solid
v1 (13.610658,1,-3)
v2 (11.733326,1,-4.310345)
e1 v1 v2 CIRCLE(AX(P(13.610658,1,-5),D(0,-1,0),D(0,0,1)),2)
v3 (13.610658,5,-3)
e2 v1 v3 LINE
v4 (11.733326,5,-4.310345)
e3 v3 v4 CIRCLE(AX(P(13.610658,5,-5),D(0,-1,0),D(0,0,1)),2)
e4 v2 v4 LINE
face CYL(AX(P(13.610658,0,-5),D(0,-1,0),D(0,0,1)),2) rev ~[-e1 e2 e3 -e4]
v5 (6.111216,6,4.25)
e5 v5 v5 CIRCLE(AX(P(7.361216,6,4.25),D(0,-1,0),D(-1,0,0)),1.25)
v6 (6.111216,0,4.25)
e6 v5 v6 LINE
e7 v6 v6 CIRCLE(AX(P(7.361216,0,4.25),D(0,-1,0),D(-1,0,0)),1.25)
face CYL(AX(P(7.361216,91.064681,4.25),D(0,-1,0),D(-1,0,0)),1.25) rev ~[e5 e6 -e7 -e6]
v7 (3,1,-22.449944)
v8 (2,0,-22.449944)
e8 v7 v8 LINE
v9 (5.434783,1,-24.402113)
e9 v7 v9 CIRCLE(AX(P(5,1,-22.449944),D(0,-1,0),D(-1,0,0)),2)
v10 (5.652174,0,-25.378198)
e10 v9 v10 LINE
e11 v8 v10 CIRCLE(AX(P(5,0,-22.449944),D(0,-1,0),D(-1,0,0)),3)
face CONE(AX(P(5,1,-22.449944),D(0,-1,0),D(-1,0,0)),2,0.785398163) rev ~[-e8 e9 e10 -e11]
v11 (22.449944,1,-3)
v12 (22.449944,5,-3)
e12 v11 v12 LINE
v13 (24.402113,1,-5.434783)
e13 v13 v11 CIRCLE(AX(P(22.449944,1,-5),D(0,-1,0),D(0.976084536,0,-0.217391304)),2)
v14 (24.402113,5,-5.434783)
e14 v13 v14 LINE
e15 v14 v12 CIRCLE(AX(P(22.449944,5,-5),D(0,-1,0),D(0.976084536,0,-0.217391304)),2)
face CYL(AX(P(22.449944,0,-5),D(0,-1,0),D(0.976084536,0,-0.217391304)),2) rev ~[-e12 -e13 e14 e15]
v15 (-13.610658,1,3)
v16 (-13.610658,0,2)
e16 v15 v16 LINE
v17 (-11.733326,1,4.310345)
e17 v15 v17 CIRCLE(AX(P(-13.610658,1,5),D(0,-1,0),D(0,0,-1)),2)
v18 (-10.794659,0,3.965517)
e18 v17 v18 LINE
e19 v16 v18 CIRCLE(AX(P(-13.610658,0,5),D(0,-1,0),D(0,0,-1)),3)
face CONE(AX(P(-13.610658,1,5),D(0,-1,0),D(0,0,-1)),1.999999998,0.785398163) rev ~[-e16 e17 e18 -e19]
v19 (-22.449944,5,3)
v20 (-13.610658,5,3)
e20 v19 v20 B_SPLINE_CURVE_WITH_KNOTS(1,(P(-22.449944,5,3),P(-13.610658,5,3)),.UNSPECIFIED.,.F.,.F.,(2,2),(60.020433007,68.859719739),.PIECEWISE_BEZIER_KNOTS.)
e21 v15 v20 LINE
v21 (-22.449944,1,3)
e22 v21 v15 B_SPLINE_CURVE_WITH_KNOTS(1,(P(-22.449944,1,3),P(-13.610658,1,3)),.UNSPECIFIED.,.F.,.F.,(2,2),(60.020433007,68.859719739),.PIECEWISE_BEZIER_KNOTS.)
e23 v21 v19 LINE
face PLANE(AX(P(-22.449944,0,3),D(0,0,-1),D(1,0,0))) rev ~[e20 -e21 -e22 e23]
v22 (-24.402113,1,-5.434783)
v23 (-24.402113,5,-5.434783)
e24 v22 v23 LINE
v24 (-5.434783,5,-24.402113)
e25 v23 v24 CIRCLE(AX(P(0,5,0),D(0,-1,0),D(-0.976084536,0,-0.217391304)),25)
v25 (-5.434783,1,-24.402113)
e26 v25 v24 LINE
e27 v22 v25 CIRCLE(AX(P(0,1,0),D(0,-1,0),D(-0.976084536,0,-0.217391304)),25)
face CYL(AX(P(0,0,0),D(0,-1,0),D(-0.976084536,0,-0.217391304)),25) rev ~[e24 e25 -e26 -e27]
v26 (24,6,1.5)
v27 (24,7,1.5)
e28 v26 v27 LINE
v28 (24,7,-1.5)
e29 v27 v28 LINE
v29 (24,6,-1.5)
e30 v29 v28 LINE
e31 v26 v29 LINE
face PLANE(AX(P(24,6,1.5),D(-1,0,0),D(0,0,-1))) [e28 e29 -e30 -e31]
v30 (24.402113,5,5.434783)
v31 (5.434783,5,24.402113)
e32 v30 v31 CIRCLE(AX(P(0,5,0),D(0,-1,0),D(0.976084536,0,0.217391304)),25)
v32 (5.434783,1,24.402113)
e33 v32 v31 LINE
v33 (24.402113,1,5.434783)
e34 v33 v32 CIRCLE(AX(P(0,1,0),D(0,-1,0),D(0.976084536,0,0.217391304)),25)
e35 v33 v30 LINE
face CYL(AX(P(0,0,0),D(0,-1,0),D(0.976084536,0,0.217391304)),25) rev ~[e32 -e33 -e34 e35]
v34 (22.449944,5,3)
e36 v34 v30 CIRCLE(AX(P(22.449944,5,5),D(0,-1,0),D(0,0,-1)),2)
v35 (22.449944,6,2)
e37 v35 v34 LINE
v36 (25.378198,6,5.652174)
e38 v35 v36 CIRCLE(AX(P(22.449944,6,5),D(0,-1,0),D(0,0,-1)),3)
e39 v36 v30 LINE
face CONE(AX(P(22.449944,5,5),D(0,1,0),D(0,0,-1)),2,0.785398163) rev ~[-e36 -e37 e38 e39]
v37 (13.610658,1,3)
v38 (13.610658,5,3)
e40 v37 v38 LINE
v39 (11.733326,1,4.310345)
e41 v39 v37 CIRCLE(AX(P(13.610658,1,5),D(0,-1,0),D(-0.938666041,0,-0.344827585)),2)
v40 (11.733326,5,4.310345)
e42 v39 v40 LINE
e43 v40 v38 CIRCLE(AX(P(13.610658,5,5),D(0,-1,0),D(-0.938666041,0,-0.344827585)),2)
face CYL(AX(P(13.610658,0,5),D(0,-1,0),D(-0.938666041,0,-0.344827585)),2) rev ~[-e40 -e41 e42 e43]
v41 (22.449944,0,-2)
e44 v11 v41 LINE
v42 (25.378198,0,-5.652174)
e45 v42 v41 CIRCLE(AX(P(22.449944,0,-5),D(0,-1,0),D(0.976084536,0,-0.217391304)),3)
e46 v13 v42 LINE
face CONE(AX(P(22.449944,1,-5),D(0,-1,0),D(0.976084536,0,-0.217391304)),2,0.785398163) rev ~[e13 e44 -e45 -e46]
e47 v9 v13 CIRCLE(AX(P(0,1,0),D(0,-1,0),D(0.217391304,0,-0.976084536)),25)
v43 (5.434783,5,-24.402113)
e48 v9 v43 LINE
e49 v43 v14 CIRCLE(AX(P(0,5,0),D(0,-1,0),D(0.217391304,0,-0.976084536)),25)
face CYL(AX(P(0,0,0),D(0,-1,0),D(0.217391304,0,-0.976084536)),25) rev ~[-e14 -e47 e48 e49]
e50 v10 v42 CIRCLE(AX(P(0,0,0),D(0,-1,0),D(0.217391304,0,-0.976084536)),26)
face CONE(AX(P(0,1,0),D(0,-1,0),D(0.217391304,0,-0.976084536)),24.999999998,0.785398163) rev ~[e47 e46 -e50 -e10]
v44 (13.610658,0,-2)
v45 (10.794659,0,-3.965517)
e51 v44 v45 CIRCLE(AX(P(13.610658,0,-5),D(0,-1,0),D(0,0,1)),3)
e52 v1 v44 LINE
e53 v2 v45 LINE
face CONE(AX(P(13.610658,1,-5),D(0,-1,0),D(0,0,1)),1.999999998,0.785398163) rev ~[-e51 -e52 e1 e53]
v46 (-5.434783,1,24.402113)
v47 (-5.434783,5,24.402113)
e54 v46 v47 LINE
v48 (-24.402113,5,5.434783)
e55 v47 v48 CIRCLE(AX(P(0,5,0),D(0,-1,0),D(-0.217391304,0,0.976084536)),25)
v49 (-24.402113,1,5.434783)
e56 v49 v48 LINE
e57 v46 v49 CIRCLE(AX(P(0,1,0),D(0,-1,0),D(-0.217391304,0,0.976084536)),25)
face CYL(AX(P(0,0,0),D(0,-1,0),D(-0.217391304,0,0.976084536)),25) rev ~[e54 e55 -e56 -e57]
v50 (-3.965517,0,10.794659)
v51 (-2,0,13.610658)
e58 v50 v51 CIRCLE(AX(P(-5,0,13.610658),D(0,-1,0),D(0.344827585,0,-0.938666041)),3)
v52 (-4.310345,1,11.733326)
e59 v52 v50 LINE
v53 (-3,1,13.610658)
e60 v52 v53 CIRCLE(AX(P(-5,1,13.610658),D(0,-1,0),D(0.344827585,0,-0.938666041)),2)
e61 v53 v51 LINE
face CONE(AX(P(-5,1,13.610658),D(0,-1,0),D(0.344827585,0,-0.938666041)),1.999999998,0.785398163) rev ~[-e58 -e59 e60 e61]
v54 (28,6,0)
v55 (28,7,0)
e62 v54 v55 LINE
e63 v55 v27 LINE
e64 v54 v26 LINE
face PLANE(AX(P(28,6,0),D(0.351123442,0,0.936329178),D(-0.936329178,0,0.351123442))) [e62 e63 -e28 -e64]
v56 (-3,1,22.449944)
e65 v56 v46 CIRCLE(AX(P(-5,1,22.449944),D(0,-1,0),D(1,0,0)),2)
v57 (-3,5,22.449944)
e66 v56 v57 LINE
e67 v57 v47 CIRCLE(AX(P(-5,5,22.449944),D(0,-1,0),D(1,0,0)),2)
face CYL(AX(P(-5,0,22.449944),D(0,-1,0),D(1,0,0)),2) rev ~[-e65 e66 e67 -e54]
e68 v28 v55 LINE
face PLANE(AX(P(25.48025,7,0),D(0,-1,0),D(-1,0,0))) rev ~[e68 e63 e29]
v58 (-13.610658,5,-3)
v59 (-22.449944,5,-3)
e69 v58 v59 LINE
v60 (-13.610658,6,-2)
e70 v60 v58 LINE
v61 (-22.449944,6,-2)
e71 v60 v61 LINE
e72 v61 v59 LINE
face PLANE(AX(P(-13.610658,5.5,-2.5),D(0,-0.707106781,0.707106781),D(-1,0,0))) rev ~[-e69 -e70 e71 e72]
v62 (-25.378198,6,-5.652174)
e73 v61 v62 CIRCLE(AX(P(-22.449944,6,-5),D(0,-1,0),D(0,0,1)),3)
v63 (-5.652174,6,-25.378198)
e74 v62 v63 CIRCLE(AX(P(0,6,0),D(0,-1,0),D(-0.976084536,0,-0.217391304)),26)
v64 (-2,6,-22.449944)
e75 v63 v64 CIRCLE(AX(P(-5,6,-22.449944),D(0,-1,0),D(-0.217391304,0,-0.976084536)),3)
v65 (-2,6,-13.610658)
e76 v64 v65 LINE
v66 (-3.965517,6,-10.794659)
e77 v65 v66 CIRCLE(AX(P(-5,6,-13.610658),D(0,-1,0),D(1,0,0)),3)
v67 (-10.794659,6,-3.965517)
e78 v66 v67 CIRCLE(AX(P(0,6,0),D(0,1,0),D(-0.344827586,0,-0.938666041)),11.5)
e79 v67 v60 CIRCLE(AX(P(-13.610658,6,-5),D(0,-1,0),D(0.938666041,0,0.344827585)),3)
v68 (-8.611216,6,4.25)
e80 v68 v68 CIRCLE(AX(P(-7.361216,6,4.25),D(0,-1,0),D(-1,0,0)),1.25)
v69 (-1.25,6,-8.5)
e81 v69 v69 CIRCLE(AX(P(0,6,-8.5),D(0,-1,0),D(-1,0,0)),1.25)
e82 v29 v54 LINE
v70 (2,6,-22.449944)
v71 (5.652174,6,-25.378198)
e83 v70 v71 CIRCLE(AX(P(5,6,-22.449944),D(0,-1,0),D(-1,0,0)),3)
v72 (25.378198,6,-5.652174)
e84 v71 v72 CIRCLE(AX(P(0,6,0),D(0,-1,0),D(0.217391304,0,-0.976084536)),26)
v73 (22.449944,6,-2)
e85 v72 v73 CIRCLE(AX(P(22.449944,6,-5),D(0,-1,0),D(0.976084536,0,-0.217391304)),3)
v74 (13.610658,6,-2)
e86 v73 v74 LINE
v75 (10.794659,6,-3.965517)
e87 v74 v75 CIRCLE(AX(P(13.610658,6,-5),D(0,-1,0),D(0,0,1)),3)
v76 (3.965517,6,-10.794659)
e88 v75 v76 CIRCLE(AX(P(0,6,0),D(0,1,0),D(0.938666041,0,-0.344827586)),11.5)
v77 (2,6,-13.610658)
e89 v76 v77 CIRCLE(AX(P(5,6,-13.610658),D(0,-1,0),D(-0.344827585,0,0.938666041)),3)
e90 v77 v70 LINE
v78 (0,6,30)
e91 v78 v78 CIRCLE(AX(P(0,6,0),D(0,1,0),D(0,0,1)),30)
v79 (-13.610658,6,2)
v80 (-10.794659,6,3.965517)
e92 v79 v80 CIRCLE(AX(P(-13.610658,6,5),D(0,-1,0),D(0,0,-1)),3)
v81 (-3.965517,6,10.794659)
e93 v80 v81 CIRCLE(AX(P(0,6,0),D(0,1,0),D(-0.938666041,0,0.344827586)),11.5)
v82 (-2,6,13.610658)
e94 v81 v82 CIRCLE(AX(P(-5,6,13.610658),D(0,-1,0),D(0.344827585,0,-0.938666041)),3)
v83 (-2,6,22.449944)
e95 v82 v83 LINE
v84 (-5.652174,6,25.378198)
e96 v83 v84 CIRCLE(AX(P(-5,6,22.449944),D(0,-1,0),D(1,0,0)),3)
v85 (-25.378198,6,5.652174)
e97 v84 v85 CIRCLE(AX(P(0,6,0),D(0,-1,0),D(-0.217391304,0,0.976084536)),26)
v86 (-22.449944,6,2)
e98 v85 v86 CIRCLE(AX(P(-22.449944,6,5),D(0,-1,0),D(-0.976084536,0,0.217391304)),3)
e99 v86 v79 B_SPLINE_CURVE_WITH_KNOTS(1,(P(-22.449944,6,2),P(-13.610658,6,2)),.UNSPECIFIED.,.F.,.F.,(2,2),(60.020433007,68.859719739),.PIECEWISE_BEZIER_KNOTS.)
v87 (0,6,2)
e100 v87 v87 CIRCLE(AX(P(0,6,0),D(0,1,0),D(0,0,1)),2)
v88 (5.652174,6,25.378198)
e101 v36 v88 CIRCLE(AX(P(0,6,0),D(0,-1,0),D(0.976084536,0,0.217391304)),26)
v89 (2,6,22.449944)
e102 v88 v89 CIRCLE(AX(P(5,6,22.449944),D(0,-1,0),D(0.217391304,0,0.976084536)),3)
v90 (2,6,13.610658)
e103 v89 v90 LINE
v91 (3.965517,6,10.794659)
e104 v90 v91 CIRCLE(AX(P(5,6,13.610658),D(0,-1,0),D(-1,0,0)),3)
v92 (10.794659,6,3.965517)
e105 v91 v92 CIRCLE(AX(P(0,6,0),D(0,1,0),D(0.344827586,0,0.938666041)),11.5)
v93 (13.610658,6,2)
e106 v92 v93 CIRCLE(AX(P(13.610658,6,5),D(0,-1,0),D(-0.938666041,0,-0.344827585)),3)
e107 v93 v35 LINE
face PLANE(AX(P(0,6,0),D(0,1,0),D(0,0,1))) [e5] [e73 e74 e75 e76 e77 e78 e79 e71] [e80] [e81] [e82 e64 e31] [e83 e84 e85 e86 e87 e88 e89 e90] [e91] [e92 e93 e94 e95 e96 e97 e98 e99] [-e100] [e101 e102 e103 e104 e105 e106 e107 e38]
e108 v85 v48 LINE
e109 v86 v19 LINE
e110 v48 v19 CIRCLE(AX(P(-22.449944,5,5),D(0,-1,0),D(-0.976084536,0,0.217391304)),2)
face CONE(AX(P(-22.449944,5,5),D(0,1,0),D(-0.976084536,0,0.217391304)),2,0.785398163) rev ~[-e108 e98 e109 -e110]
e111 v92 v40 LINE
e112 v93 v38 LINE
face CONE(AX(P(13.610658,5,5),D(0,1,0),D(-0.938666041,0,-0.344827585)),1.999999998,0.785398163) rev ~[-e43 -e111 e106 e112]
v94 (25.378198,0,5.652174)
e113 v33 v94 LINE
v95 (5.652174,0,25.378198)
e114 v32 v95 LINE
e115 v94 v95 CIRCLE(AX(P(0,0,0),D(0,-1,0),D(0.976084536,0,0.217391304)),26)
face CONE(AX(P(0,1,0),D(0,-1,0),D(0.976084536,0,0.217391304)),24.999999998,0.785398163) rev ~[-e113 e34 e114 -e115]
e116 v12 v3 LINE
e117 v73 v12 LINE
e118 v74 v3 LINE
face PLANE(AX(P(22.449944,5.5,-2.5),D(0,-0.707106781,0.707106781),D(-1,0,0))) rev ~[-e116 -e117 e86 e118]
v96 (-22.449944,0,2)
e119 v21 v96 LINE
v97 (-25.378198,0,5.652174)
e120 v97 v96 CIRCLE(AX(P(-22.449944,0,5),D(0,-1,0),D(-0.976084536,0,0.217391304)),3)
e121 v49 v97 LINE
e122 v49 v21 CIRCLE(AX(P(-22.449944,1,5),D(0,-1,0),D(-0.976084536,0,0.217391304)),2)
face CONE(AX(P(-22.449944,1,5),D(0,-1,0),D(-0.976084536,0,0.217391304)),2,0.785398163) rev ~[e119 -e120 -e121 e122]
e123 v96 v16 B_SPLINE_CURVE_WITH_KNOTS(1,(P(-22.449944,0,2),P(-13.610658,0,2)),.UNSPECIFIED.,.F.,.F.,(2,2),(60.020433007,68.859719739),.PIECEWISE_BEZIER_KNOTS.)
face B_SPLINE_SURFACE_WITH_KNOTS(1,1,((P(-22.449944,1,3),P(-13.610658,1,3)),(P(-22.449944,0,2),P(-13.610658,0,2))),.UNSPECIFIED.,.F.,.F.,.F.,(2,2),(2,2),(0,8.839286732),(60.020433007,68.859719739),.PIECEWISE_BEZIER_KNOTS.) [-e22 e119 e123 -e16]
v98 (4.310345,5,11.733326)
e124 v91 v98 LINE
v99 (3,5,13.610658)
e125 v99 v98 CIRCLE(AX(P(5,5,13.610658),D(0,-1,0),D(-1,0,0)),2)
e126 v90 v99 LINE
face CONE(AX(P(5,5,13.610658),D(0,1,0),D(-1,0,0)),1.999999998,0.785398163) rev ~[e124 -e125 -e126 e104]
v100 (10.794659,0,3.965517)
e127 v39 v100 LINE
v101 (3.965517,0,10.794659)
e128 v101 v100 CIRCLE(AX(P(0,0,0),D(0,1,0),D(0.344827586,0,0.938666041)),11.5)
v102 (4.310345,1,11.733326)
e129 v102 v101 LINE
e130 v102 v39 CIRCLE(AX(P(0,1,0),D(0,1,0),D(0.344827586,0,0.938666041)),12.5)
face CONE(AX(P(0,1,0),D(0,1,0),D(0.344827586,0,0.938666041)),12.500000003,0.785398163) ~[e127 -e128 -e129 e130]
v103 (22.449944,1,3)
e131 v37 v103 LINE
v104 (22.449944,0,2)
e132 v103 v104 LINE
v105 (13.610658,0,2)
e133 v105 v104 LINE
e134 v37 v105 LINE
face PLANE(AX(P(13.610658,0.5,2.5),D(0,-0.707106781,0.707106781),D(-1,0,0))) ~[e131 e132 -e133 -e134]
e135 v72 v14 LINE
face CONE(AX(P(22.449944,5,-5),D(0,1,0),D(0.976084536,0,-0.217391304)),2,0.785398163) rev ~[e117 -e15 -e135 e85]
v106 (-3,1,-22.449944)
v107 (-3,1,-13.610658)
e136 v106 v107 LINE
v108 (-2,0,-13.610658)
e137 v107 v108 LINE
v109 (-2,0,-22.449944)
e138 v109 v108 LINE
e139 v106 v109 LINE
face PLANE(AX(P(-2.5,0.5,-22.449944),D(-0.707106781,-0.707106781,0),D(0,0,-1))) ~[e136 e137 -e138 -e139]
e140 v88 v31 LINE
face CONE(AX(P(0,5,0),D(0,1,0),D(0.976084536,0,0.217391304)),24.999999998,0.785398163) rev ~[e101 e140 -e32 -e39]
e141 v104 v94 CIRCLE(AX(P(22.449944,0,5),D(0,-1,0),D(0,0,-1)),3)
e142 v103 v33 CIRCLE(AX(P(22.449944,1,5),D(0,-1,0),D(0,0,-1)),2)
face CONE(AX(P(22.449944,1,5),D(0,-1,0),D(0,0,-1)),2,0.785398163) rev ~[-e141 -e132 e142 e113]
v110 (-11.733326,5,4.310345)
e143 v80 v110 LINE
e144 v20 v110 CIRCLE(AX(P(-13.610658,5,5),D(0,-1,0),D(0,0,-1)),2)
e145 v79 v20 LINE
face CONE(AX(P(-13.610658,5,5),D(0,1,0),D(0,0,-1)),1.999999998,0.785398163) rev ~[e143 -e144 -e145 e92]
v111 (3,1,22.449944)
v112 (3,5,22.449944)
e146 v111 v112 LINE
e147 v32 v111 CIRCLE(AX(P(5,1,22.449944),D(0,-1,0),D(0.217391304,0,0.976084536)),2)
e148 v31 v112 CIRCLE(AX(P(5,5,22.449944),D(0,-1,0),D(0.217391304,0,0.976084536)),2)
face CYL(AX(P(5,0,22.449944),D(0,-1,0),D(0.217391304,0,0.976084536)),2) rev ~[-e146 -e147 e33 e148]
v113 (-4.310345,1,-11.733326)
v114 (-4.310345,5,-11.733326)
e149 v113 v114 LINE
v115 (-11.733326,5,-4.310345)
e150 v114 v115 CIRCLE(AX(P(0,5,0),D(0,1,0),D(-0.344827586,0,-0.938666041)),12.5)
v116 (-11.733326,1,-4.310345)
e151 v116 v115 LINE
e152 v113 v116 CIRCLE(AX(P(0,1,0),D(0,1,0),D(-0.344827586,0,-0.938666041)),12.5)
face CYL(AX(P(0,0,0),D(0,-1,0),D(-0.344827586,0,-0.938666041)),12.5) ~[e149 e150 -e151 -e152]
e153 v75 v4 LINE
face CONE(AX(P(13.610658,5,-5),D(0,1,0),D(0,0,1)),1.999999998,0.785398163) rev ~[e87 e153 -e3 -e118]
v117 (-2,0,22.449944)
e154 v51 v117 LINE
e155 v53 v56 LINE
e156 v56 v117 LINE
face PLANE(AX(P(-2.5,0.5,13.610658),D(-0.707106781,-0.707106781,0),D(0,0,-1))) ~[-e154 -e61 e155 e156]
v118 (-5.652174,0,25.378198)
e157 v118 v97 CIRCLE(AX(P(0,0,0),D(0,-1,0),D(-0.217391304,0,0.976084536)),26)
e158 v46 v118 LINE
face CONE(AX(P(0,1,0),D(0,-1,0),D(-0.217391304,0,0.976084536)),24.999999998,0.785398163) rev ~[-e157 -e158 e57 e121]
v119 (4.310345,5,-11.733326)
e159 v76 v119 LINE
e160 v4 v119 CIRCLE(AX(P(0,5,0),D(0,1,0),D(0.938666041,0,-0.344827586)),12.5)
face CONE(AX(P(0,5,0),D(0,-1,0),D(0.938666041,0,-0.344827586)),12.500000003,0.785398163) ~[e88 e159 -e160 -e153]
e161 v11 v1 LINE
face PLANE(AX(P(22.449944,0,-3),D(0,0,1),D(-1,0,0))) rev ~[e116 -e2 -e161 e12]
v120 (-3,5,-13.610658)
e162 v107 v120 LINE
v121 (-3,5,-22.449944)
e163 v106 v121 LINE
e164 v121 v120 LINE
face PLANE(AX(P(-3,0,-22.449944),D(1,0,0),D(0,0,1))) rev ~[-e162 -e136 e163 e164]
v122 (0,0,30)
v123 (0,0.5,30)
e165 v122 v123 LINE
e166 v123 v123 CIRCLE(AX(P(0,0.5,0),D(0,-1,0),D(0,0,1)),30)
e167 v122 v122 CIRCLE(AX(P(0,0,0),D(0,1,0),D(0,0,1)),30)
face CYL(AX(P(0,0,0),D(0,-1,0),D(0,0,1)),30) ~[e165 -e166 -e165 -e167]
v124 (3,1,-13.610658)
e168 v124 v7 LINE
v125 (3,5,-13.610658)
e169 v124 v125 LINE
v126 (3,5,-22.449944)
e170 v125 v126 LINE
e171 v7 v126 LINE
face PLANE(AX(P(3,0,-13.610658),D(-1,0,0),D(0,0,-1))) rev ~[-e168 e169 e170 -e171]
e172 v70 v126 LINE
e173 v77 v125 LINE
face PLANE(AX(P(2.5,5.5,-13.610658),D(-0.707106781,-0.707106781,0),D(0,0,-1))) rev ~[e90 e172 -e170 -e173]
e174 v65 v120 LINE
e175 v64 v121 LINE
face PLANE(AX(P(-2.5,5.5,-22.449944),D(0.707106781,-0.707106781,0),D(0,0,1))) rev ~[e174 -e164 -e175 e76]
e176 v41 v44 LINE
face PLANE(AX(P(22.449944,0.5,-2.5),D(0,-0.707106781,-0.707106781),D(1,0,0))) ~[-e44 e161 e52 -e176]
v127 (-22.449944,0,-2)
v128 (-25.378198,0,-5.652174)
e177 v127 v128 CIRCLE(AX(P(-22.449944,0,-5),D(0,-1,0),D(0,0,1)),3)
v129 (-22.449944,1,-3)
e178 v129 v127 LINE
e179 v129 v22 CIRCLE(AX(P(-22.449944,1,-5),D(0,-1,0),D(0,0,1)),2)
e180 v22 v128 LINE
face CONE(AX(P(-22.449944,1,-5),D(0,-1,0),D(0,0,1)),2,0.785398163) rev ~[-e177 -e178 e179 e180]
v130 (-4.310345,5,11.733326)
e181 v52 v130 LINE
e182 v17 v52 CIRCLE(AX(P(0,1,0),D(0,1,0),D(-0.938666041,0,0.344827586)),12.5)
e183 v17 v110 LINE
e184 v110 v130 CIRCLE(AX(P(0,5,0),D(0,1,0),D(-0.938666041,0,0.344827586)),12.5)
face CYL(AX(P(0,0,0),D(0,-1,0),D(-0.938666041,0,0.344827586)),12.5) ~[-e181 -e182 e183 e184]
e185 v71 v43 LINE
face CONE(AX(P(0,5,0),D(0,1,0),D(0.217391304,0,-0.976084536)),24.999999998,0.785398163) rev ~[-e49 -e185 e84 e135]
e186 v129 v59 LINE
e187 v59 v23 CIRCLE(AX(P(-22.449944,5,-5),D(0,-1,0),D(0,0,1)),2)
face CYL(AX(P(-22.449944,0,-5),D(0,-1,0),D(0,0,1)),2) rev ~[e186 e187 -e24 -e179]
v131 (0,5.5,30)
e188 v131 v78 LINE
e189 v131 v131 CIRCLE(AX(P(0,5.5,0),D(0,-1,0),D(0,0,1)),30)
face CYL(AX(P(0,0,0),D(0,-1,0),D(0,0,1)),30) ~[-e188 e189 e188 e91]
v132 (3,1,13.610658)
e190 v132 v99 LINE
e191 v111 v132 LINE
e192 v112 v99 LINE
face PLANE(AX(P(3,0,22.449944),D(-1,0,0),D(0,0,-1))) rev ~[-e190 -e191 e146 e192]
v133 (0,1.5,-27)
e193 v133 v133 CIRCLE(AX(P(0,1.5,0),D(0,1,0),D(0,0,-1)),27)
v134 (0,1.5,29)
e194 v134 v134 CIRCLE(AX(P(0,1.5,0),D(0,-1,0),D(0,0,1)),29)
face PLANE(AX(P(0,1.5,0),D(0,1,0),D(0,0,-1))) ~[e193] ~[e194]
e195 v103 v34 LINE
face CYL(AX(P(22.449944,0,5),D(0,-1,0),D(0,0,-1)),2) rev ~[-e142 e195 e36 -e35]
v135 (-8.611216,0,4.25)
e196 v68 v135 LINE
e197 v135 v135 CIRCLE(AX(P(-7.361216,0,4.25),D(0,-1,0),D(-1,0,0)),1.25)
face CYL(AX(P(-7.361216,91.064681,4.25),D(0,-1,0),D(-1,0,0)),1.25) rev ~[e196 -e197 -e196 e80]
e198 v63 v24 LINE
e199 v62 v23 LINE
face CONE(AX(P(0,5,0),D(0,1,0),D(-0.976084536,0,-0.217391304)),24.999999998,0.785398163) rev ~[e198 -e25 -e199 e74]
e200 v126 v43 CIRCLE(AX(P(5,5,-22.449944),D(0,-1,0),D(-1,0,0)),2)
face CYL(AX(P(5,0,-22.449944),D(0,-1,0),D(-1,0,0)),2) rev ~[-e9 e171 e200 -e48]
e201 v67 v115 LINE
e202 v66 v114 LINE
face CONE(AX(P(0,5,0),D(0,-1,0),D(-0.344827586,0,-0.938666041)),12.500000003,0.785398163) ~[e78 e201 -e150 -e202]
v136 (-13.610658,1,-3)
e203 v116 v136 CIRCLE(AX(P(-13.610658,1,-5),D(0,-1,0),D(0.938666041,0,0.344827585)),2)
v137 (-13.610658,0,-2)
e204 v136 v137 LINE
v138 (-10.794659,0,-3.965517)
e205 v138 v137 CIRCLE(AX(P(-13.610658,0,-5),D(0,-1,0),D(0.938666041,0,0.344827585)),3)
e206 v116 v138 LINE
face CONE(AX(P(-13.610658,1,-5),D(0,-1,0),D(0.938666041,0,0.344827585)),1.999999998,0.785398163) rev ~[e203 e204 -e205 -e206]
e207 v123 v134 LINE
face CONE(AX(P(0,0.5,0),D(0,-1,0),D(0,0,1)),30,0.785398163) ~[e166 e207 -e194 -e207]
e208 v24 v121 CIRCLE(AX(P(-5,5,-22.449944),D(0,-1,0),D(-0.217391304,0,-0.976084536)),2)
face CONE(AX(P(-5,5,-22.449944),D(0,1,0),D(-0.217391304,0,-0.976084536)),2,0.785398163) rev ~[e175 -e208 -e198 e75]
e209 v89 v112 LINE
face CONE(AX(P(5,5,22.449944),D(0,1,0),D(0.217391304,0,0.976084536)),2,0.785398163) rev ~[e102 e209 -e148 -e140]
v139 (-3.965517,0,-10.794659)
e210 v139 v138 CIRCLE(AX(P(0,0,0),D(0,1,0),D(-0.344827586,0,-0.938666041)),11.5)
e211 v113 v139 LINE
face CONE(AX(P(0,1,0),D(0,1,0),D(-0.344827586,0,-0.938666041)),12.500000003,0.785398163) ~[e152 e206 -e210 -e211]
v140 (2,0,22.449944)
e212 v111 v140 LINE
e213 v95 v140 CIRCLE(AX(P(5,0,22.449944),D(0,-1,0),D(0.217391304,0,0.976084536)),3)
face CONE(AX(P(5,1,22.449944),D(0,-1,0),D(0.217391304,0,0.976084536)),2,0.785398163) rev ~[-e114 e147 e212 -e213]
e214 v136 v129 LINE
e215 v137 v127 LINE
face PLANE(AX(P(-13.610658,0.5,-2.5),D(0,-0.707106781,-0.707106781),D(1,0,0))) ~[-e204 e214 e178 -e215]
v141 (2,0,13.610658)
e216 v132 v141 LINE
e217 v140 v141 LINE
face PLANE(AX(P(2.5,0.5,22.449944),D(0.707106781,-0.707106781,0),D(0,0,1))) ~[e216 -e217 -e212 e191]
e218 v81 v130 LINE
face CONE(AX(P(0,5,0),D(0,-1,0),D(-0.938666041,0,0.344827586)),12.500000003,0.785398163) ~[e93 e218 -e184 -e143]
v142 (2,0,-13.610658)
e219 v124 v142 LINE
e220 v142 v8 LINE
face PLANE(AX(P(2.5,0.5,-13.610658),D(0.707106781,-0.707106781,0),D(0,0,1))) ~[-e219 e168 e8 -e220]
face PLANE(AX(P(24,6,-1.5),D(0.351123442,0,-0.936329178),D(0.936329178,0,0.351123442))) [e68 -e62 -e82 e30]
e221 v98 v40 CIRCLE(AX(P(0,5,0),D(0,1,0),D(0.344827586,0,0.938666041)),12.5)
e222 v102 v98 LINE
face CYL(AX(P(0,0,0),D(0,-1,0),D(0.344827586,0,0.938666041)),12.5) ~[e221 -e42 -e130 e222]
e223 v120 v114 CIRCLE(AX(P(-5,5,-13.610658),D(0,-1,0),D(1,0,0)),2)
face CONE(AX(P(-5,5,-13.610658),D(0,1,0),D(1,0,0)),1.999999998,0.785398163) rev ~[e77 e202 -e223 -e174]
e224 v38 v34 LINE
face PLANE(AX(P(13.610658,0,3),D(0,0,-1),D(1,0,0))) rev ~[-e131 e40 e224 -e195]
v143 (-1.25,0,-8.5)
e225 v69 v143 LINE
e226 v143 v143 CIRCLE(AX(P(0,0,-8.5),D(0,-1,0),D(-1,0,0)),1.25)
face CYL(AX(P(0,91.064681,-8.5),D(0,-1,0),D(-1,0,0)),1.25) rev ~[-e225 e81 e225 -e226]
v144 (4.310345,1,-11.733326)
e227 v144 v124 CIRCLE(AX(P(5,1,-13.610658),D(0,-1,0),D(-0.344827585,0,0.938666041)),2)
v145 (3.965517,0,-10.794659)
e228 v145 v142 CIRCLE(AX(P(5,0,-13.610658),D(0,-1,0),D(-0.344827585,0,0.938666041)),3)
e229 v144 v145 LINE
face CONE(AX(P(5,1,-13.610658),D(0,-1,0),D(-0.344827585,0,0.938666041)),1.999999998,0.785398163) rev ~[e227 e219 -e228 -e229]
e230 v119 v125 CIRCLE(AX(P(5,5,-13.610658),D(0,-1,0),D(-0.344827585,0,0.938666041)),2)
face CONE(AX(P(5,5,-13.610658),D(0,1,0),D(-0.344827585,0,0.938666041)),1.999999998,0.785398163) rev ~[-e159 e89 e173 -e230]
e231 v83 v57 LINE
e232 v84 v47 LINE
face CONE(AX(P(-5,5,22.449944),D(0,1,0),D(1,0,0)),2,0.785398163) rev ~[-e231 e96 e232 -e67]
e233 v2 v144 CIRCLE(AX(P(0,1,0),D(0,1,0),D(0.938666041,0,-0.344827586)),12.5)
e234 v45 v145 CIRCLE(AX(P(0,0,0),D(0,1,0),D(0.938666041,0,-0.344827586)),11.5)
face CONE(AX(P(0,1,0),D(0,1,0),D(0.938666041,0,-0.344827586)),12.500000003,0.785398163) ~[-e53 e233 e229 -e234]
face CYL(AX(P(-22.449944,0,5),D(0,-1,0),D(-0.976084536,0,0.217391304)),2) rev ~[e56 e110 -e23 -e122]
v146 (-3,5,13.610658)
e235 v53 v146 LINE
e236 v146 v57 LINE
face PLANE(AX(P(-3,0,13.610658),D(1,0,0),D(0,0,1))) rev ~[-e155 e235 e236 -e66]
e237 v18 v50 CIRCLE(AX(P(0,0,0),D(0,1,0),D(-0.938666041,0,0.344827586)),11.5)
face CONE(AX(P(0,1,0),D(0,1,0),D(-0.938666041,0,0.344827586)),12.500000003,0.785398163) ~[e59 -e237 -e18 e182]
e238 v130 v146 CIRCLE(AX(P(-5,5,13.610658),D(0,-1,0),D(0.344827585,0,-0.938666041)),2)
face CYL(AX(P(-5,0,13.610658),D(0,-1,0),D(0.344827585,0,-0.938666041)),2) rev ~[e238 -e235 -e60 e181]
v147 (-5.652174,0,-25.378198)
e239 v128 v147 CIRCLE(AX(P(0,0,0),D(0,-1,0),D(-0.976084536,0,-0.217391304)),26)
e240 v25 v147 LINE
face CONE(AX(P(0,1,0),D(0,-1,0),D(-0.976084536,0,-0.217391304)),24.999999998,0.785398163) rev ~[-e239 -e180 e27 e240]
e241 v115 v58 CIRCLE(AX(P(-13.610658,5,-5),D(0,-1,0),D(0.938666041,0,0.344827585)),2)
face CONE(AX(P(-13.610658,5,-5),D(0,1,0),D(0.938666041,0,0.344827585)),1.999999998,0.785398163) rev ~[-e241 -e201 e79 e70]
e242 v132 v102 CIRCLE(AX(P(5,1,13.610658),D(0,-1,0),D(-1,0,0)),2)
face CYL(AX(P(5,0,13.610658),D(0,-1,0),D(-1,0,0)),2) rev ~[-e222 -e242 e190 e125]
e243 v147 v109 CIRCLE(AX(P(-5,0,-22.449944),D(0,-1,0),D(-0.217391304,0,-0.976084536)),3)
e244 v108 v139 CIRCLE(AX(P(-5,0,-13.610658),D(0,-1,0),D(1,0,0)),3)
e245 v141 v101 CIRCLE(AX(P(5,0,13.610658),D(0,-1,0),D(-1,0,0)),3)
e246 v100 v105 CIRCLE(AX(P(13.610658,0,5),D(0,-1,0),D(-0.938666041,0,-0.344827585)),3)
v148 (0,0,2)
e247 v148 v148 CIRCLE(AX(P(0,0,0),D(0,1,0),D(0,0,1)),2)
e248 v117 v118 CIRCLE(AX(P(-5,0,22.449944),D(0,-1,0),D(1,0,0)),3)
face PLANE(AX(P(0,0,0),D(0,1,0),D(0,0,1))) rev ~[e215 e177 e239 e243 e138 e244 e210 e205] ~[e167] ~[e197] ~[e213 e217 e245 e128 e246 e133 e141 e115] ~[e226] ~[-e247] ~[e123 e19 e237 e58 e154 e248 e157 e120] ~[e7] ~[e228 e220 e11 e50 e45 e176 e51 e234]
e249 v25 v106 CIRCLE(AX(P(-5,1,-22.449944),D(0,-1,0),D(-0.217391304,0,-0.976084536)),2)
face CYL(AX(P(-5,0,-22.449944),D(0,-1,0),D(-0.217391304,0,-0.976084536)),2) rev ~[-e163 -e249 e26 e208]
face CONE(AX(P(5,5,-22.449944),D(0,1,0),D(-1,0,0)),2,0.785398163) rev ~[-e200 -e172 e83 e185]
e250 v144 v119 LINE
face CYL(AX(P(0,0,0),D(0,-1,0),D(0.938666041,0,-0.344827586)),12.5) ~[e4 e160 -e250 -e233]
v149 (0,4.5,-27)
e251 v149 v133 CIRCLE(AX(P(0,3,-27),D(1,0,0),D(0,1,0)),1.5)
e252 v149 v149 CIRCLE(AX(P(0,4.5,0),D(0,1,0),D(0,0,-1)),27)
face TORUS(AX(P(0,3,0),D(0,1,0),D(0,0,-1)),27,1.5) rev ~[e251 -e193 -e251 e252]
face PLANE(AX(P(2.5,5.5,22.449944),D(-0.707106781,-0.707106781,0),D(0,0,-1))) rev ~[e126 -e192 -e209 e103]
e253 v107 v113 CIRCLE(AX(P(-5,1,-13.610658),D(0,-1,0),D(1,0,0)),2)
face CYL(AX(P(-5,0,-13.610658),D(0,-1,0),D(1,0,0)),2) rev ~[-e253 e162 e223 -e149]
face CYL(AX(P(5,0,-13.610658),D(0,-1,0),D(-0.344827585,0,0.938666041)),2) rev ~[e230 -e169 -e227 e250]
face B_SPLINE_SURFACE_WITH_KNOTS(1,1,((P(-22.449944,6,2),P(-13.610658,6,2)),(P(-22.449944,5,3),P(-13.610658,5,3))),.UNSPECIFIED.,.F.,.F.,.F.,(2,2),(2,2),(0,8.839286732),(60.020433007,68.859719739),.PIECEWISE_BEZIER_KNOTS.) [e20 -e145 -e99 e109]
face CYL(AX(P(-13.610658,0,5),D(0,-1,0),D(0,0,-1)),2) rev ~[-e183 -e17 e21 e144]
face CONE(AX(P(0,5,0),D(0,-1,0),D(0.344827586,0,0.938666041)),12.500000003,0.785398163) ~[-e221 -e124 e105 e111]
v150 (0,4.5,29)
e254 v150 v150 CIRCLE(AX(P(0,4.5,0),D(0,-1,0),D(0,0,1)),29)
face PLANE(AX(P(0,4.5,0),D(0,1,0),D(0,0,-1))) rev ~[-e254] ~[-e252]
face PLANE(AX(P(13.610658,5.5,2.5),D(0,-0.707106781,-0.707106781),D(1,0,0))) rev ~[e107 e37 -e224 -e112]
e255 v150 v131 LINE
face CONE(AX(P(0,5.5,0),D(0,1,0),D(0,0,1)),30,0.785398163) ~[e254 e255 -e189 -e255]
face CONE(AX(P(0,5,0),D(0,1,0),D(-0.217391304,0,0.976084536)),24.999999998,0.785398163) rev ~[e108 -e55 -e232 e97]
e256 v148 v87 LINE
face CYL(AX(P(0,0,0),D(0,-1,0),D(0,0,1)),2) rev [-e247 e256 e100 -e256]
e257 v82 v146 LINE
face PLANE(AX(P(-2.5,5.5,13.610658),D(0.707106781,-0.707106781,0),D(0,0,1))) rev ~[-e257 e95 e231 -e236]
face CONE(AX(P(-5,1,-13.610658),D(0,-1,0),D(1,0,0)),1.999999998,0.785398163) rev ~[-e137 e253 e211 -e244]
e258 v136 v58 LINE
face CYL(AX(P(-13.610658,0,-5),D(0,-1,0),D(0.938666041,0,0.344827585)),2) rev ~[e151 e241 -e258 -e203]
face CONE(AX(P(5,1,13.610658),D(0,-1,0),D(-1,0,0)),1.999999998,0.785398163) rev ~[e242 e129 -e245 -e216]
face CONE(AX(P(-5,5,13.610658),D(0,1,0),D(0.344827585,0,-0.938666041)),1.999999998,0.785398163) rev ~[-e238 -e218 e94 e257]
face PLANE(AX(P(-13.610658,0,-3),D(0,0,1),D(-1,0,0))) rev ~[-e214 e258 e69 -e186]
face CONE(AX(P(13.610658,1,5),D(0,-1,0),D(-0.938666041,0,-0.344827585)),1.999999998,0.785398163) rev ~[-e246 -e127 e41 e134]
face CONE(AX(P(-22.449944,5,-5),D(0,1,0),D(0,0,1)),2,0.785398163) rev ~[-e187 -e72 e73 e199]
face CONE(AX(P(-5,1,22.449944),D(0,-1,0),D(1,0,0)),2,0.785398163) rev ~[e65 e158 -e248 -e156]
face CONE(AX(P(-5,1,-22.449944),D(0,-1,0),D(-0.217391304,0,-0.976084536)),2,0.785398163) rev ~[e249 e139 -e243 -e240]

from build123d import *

# Parameters (mm, degrees)
SKETCH1_R             = 30
SKETCH1_R_2           = 2
BOSS_EXTRUDE1_DEPTH   = 6
M3X0_5_TAPPED_HOLE1_D = 2.5
CHAMFER1_SIZE         = 1
BOSS_EXTRUDE2_DEPTH   = 1


with BuildPart() as part:
    # Sketch1 → Boss-Extrude1 (new body)
    with BuildSketch(Plane(origin=(0, 0, 0), x_dir=(1, 0, 0), z_dir=(0, 1, 0))):
        with Locations(Location((0, 0, 0), (0, 0, 270))):
            Circle(SKETCH1_R)
        with Locations(Location((0, 0, 0), (0, 0, 270))):
            Circle(SKETCH1_R_2, mode=Mode.SUBTRACT)
        with BuildLine():
            Line((-22.449944321, -3), (-13.610657589, -3))
            ThreePointArc((-13.610657589, -3), (-12.465954646, -3.359983179), (-11.733325508, -4.310344828))
            ThreePointArc((-11.733325508, -4.310344828), (-8.838834765, -8.838834765), (-4.310344828, -11.733325508))
            ThreePointArc((-4.310344828, -11.733325508), (-3.359983179, -12.465954646), (-3, -13.610657589))
            Line((-3, -13.610657589), (-3, -22.449944321))
            ThreePointArc((-3, -22.449944321), (-3.748913516, -24.010323316), (-5.434782609, -24.402113392))
            ThreePointArc((-5.434782609, -24.402113392), (-17.67766953, -17.67766953), (-24.402113392, -5.434782609))
            ThreePointArc((-24.402113392, -5.434782609), (-24.010323316, -3.748913516), (-22.449944321, -3))
        make_face(mode=Mode.SUBTRACT)
        with BuildLine():
            Line((3, -22.449944321), (3, -13.610657589))
            ThreePointArc((3, -13.610657589), (3.359983179, -12.465954646), (4.310344828, -11.733325508))
            ThreePointArc((4.310344828, -11.733325508), (8.838834765, -8.838834765), (11.733325508, -4.310344828))
            ThreePointArc((11.733325508, -4.310344828), (12.465954646, -3.359983179), (13.610657589, -3))
            Line((13.610657589, -3), (22.449944321, -3))
            ThreePointArc((22.449944321, -3), (24.010323316, -3.748913516), (24.402113392, -5.434782609))
            ThreePointArc((24.402113392, -5.434782609), (17.67766953, -17.67766953), (5.434782609, -24.402113392))
            ThreePointArc((5.434782609, -24.402113392), (3.748913516, -24.010323316), (3, -22.449944321))
        make_face(mode=Mode.SUBTRACT)
        with BuildLine():
            Line((22.449944321, 3), (13.610657589, 3))
            ThreePointArc((13.610657589, 3), (12.465954646, 3.359983179), (11.733325508, 4.310344828))
            ThreePointArc((11.733325508, 4.310344828), (8.838834765, 8.838834765), (4.310344828, 11.733325508))
            ThreePointArc((4.310344828, 11.733325508), (3.359983179, 12.465954646), (3, 13.610657589))
            Line((3, 13.610657589), (3, 22.449944321))
            ThreePointArc((3, 22.449944321), (3.748913516, 24.010323316), (5.434782609, 24.402113392))
            ThreePointArc((5.434782609, 24.402113392), (17.67766953, 17.67766953), (24.402113392, 5.434782609))
            ThreePointArc((24.402113392, 5.434782609), (24.010323316, 3.748913516), (22.449944321, 3))
        make_face(mode=Mode.SUBTRACT)
        with BuildLine():
            Line((-3, 22.449944321), (-3, 13.610657589))
            ThreePointArc((-3, 13.610657589), (-3.359983179, 12.465954646), (-4.310344828, 11.733325508))
            ThreePointArc((-4.310344828, 11.733325508), (-8.838834765, 8.838834765), (-11.733325508, 4.310344828))
            ThreePointArc((-11.733325508, 4.310344828), (-12.465954646, 3.359983179), (-13.610657589, 3))
            Line((-13.610657589, 3), (-22.449944321, 3))
            ThreePointArc((-22.449944321, 3), (-24.010323316, 3.748913516), (-24.402113392, 5.434782609))
            ThreePointArc((-24.402113392, 5.434782609), (-17.67766953, 17.67766953), (-5.434782609, 24.402113392))
            ThreePointArc((-5.434782609, 24.402113392), (-3.748913516, 24.010323316), (-3, 22.449944321))
        make_face(mode=Mode.SUBTRACT)
    extrude(amount=BOSS_EXTRUDE1_DEPTH)

    # M3x0.5 Tapped Hole1 (through all)
    with Locations(Plane(origin=(0, 6, 0), x_dir=(1, 0, 0), z_dir=(0, 1, 0))):
        with Locations((-7.361215932, -4.25), (0, 8.5), (7.361215932, -4.25)):
            Hole(M3X0_5_TAPPED_HOLE1_D / 2)

    # Sketch5 → Cut-Revolve1 (revolve, cut)
    with BuildSketch(Plane(origin=(0, 0, 0), x_dir=(0, 0, -1), z_dir=(1, 0, 0)), mode=Mode.PRIVATE) as cut_revolve1_sk:
        with BuildLine():
            Line((-30, 4.5), (-27, 4.5))
            ThreePointArc((-27, 4.5), (-25.5, 3), (-27, 1.5))
            Line((-27, 1.5), (-30, 1.5))
            Line((-30, 1.5), (-30, 4.5))
        make_face()
    revolve(cut_revolve1_sk.sketch.rotate(Axis((0, 0, 0), (0, 1, 0)), 180), axis=Axis((0, 0, 0), (0, 1, 0)), mode=Mode.SUBTRACT)

    # Chamfer1
    chamfer1_edges = [part.edges().sort_by_distance(p)[0] for p in [
        (0, 4.5, -30),
        (0, 1.5, -30),
        (-12.465954646, 0, 3.359983179),
        (-18.030300955, 0, 3),
        (-24.010323316, 0, 3.748913516),
        (-17.67766953, 0, 17.67766953),
        (-3.748913516, 0, 24.010323316),
        (-3, 0, 18.030300955),
        (-3.359983179, 0, 12.465954646),
        (-8.838834765, 0, 8.838834765),
        (-12.465954646, 6, 3.359983179),
        (-18.030300955, 6, 3),
        (-24.010323316, 6, 3.748913516),
        (-17.67766953, 6, 17.67766953),
        (-3.748913516, 6, 24.010323316),
        (-3, 6, 18.030300955),
        (-3.359983179, 6, 12.465954646),
        (-8.838834765, 6, 8.838834765),
        (24.010323316, 0, 3.748913516),
        (18.030300955, 0, 3),
        (12.465954646, 0, 3.359983179),
        (8.838834765, 0, 8.838834765),
        (3.359983179, 0, 12.465954646),
        (3, 0, 18.030300955),
        (3.748913516, 0, 24.010323316),
        (17.67766953, 0, 17.67766953),
        (24.010323316, 6, 3.748913516),
        (18.030300955, 6, 3),
        (12.465954646, 6, 3.359983179),
        (8.838834765, 6, 8.838834765),
        (3.359983179, 6, 12.465954646),
        (3, 6, 18.030300955),
        (3.748913516, 6, 24.010323316),
        (17.67766953, 6, 17.67766953),
        (17.67766953, 0, -17.67766953),
        (3.748913516, 0, -24.010323316),
        (3, 0, -18.030300955),
        (3.359983179, 0, -12.465954646),
        (8.838834765, 0, -8.838834765),
        (12.465954646, 0, -3.359983179),
        (18.030300955, 0, -3),
        (24.010323316, 0, -3.748913516),
        (17.67766953, 6, -17.67766953),
        (3.748913516, 6, -24.010323316),
        (3, 6, -18.030300955),
        (3.359983179, 6, -12.465954646),
        (8.838834765, 6, -8.838834765),
        (12.465954646, 6, -3.359983179),
        (18.030300955, 6, -3),
        (24.010323316, 6, -3.748913516),
        (-24.010323316, 0, -3.748913516),
        (-18.030300955, 0, -3),
        (-12.465954646, 0, -3.359983179),
        (-8.838834765, 0, -8.838834765),
        (-3.359983179, 0, -12.465954646),
        (-3, 0, -18.030300955),
        (-3.748913516, 0, -24.010323316),
        (-17.67766953, 0, -17.67766953),
        (-24.010323316, 6, -3.748913516),
        (-18.030300955, 6, -3),
        (-12.465954646, 6, -3.359983179),
        (-8.838834765, 6, -8.838834765),
        (-3.359983179, 6, -12.465954646),
        (-3, 6, -18.030300955),
        (-3.748913516, 6, -24.010323316),
        (-17.67766953, 6, -17.67766953),
    ]]
    chamfer(chamfer1_edges, length=CHAMFER1_SIZE)

    # Sketch6 → Boss-Extrude2 (add)
    with BuildSketch(Plane(origin=(0, 6, 0), x_dir=(1, 0, 0), z_dir=(0, 1, 0))):
        Polygon((24, -1.5), (24, 1.5), (28, 0), align=None)
    extrude(amount=BOSS_EXTRUDE2_DEPTH)


solid = part.part
